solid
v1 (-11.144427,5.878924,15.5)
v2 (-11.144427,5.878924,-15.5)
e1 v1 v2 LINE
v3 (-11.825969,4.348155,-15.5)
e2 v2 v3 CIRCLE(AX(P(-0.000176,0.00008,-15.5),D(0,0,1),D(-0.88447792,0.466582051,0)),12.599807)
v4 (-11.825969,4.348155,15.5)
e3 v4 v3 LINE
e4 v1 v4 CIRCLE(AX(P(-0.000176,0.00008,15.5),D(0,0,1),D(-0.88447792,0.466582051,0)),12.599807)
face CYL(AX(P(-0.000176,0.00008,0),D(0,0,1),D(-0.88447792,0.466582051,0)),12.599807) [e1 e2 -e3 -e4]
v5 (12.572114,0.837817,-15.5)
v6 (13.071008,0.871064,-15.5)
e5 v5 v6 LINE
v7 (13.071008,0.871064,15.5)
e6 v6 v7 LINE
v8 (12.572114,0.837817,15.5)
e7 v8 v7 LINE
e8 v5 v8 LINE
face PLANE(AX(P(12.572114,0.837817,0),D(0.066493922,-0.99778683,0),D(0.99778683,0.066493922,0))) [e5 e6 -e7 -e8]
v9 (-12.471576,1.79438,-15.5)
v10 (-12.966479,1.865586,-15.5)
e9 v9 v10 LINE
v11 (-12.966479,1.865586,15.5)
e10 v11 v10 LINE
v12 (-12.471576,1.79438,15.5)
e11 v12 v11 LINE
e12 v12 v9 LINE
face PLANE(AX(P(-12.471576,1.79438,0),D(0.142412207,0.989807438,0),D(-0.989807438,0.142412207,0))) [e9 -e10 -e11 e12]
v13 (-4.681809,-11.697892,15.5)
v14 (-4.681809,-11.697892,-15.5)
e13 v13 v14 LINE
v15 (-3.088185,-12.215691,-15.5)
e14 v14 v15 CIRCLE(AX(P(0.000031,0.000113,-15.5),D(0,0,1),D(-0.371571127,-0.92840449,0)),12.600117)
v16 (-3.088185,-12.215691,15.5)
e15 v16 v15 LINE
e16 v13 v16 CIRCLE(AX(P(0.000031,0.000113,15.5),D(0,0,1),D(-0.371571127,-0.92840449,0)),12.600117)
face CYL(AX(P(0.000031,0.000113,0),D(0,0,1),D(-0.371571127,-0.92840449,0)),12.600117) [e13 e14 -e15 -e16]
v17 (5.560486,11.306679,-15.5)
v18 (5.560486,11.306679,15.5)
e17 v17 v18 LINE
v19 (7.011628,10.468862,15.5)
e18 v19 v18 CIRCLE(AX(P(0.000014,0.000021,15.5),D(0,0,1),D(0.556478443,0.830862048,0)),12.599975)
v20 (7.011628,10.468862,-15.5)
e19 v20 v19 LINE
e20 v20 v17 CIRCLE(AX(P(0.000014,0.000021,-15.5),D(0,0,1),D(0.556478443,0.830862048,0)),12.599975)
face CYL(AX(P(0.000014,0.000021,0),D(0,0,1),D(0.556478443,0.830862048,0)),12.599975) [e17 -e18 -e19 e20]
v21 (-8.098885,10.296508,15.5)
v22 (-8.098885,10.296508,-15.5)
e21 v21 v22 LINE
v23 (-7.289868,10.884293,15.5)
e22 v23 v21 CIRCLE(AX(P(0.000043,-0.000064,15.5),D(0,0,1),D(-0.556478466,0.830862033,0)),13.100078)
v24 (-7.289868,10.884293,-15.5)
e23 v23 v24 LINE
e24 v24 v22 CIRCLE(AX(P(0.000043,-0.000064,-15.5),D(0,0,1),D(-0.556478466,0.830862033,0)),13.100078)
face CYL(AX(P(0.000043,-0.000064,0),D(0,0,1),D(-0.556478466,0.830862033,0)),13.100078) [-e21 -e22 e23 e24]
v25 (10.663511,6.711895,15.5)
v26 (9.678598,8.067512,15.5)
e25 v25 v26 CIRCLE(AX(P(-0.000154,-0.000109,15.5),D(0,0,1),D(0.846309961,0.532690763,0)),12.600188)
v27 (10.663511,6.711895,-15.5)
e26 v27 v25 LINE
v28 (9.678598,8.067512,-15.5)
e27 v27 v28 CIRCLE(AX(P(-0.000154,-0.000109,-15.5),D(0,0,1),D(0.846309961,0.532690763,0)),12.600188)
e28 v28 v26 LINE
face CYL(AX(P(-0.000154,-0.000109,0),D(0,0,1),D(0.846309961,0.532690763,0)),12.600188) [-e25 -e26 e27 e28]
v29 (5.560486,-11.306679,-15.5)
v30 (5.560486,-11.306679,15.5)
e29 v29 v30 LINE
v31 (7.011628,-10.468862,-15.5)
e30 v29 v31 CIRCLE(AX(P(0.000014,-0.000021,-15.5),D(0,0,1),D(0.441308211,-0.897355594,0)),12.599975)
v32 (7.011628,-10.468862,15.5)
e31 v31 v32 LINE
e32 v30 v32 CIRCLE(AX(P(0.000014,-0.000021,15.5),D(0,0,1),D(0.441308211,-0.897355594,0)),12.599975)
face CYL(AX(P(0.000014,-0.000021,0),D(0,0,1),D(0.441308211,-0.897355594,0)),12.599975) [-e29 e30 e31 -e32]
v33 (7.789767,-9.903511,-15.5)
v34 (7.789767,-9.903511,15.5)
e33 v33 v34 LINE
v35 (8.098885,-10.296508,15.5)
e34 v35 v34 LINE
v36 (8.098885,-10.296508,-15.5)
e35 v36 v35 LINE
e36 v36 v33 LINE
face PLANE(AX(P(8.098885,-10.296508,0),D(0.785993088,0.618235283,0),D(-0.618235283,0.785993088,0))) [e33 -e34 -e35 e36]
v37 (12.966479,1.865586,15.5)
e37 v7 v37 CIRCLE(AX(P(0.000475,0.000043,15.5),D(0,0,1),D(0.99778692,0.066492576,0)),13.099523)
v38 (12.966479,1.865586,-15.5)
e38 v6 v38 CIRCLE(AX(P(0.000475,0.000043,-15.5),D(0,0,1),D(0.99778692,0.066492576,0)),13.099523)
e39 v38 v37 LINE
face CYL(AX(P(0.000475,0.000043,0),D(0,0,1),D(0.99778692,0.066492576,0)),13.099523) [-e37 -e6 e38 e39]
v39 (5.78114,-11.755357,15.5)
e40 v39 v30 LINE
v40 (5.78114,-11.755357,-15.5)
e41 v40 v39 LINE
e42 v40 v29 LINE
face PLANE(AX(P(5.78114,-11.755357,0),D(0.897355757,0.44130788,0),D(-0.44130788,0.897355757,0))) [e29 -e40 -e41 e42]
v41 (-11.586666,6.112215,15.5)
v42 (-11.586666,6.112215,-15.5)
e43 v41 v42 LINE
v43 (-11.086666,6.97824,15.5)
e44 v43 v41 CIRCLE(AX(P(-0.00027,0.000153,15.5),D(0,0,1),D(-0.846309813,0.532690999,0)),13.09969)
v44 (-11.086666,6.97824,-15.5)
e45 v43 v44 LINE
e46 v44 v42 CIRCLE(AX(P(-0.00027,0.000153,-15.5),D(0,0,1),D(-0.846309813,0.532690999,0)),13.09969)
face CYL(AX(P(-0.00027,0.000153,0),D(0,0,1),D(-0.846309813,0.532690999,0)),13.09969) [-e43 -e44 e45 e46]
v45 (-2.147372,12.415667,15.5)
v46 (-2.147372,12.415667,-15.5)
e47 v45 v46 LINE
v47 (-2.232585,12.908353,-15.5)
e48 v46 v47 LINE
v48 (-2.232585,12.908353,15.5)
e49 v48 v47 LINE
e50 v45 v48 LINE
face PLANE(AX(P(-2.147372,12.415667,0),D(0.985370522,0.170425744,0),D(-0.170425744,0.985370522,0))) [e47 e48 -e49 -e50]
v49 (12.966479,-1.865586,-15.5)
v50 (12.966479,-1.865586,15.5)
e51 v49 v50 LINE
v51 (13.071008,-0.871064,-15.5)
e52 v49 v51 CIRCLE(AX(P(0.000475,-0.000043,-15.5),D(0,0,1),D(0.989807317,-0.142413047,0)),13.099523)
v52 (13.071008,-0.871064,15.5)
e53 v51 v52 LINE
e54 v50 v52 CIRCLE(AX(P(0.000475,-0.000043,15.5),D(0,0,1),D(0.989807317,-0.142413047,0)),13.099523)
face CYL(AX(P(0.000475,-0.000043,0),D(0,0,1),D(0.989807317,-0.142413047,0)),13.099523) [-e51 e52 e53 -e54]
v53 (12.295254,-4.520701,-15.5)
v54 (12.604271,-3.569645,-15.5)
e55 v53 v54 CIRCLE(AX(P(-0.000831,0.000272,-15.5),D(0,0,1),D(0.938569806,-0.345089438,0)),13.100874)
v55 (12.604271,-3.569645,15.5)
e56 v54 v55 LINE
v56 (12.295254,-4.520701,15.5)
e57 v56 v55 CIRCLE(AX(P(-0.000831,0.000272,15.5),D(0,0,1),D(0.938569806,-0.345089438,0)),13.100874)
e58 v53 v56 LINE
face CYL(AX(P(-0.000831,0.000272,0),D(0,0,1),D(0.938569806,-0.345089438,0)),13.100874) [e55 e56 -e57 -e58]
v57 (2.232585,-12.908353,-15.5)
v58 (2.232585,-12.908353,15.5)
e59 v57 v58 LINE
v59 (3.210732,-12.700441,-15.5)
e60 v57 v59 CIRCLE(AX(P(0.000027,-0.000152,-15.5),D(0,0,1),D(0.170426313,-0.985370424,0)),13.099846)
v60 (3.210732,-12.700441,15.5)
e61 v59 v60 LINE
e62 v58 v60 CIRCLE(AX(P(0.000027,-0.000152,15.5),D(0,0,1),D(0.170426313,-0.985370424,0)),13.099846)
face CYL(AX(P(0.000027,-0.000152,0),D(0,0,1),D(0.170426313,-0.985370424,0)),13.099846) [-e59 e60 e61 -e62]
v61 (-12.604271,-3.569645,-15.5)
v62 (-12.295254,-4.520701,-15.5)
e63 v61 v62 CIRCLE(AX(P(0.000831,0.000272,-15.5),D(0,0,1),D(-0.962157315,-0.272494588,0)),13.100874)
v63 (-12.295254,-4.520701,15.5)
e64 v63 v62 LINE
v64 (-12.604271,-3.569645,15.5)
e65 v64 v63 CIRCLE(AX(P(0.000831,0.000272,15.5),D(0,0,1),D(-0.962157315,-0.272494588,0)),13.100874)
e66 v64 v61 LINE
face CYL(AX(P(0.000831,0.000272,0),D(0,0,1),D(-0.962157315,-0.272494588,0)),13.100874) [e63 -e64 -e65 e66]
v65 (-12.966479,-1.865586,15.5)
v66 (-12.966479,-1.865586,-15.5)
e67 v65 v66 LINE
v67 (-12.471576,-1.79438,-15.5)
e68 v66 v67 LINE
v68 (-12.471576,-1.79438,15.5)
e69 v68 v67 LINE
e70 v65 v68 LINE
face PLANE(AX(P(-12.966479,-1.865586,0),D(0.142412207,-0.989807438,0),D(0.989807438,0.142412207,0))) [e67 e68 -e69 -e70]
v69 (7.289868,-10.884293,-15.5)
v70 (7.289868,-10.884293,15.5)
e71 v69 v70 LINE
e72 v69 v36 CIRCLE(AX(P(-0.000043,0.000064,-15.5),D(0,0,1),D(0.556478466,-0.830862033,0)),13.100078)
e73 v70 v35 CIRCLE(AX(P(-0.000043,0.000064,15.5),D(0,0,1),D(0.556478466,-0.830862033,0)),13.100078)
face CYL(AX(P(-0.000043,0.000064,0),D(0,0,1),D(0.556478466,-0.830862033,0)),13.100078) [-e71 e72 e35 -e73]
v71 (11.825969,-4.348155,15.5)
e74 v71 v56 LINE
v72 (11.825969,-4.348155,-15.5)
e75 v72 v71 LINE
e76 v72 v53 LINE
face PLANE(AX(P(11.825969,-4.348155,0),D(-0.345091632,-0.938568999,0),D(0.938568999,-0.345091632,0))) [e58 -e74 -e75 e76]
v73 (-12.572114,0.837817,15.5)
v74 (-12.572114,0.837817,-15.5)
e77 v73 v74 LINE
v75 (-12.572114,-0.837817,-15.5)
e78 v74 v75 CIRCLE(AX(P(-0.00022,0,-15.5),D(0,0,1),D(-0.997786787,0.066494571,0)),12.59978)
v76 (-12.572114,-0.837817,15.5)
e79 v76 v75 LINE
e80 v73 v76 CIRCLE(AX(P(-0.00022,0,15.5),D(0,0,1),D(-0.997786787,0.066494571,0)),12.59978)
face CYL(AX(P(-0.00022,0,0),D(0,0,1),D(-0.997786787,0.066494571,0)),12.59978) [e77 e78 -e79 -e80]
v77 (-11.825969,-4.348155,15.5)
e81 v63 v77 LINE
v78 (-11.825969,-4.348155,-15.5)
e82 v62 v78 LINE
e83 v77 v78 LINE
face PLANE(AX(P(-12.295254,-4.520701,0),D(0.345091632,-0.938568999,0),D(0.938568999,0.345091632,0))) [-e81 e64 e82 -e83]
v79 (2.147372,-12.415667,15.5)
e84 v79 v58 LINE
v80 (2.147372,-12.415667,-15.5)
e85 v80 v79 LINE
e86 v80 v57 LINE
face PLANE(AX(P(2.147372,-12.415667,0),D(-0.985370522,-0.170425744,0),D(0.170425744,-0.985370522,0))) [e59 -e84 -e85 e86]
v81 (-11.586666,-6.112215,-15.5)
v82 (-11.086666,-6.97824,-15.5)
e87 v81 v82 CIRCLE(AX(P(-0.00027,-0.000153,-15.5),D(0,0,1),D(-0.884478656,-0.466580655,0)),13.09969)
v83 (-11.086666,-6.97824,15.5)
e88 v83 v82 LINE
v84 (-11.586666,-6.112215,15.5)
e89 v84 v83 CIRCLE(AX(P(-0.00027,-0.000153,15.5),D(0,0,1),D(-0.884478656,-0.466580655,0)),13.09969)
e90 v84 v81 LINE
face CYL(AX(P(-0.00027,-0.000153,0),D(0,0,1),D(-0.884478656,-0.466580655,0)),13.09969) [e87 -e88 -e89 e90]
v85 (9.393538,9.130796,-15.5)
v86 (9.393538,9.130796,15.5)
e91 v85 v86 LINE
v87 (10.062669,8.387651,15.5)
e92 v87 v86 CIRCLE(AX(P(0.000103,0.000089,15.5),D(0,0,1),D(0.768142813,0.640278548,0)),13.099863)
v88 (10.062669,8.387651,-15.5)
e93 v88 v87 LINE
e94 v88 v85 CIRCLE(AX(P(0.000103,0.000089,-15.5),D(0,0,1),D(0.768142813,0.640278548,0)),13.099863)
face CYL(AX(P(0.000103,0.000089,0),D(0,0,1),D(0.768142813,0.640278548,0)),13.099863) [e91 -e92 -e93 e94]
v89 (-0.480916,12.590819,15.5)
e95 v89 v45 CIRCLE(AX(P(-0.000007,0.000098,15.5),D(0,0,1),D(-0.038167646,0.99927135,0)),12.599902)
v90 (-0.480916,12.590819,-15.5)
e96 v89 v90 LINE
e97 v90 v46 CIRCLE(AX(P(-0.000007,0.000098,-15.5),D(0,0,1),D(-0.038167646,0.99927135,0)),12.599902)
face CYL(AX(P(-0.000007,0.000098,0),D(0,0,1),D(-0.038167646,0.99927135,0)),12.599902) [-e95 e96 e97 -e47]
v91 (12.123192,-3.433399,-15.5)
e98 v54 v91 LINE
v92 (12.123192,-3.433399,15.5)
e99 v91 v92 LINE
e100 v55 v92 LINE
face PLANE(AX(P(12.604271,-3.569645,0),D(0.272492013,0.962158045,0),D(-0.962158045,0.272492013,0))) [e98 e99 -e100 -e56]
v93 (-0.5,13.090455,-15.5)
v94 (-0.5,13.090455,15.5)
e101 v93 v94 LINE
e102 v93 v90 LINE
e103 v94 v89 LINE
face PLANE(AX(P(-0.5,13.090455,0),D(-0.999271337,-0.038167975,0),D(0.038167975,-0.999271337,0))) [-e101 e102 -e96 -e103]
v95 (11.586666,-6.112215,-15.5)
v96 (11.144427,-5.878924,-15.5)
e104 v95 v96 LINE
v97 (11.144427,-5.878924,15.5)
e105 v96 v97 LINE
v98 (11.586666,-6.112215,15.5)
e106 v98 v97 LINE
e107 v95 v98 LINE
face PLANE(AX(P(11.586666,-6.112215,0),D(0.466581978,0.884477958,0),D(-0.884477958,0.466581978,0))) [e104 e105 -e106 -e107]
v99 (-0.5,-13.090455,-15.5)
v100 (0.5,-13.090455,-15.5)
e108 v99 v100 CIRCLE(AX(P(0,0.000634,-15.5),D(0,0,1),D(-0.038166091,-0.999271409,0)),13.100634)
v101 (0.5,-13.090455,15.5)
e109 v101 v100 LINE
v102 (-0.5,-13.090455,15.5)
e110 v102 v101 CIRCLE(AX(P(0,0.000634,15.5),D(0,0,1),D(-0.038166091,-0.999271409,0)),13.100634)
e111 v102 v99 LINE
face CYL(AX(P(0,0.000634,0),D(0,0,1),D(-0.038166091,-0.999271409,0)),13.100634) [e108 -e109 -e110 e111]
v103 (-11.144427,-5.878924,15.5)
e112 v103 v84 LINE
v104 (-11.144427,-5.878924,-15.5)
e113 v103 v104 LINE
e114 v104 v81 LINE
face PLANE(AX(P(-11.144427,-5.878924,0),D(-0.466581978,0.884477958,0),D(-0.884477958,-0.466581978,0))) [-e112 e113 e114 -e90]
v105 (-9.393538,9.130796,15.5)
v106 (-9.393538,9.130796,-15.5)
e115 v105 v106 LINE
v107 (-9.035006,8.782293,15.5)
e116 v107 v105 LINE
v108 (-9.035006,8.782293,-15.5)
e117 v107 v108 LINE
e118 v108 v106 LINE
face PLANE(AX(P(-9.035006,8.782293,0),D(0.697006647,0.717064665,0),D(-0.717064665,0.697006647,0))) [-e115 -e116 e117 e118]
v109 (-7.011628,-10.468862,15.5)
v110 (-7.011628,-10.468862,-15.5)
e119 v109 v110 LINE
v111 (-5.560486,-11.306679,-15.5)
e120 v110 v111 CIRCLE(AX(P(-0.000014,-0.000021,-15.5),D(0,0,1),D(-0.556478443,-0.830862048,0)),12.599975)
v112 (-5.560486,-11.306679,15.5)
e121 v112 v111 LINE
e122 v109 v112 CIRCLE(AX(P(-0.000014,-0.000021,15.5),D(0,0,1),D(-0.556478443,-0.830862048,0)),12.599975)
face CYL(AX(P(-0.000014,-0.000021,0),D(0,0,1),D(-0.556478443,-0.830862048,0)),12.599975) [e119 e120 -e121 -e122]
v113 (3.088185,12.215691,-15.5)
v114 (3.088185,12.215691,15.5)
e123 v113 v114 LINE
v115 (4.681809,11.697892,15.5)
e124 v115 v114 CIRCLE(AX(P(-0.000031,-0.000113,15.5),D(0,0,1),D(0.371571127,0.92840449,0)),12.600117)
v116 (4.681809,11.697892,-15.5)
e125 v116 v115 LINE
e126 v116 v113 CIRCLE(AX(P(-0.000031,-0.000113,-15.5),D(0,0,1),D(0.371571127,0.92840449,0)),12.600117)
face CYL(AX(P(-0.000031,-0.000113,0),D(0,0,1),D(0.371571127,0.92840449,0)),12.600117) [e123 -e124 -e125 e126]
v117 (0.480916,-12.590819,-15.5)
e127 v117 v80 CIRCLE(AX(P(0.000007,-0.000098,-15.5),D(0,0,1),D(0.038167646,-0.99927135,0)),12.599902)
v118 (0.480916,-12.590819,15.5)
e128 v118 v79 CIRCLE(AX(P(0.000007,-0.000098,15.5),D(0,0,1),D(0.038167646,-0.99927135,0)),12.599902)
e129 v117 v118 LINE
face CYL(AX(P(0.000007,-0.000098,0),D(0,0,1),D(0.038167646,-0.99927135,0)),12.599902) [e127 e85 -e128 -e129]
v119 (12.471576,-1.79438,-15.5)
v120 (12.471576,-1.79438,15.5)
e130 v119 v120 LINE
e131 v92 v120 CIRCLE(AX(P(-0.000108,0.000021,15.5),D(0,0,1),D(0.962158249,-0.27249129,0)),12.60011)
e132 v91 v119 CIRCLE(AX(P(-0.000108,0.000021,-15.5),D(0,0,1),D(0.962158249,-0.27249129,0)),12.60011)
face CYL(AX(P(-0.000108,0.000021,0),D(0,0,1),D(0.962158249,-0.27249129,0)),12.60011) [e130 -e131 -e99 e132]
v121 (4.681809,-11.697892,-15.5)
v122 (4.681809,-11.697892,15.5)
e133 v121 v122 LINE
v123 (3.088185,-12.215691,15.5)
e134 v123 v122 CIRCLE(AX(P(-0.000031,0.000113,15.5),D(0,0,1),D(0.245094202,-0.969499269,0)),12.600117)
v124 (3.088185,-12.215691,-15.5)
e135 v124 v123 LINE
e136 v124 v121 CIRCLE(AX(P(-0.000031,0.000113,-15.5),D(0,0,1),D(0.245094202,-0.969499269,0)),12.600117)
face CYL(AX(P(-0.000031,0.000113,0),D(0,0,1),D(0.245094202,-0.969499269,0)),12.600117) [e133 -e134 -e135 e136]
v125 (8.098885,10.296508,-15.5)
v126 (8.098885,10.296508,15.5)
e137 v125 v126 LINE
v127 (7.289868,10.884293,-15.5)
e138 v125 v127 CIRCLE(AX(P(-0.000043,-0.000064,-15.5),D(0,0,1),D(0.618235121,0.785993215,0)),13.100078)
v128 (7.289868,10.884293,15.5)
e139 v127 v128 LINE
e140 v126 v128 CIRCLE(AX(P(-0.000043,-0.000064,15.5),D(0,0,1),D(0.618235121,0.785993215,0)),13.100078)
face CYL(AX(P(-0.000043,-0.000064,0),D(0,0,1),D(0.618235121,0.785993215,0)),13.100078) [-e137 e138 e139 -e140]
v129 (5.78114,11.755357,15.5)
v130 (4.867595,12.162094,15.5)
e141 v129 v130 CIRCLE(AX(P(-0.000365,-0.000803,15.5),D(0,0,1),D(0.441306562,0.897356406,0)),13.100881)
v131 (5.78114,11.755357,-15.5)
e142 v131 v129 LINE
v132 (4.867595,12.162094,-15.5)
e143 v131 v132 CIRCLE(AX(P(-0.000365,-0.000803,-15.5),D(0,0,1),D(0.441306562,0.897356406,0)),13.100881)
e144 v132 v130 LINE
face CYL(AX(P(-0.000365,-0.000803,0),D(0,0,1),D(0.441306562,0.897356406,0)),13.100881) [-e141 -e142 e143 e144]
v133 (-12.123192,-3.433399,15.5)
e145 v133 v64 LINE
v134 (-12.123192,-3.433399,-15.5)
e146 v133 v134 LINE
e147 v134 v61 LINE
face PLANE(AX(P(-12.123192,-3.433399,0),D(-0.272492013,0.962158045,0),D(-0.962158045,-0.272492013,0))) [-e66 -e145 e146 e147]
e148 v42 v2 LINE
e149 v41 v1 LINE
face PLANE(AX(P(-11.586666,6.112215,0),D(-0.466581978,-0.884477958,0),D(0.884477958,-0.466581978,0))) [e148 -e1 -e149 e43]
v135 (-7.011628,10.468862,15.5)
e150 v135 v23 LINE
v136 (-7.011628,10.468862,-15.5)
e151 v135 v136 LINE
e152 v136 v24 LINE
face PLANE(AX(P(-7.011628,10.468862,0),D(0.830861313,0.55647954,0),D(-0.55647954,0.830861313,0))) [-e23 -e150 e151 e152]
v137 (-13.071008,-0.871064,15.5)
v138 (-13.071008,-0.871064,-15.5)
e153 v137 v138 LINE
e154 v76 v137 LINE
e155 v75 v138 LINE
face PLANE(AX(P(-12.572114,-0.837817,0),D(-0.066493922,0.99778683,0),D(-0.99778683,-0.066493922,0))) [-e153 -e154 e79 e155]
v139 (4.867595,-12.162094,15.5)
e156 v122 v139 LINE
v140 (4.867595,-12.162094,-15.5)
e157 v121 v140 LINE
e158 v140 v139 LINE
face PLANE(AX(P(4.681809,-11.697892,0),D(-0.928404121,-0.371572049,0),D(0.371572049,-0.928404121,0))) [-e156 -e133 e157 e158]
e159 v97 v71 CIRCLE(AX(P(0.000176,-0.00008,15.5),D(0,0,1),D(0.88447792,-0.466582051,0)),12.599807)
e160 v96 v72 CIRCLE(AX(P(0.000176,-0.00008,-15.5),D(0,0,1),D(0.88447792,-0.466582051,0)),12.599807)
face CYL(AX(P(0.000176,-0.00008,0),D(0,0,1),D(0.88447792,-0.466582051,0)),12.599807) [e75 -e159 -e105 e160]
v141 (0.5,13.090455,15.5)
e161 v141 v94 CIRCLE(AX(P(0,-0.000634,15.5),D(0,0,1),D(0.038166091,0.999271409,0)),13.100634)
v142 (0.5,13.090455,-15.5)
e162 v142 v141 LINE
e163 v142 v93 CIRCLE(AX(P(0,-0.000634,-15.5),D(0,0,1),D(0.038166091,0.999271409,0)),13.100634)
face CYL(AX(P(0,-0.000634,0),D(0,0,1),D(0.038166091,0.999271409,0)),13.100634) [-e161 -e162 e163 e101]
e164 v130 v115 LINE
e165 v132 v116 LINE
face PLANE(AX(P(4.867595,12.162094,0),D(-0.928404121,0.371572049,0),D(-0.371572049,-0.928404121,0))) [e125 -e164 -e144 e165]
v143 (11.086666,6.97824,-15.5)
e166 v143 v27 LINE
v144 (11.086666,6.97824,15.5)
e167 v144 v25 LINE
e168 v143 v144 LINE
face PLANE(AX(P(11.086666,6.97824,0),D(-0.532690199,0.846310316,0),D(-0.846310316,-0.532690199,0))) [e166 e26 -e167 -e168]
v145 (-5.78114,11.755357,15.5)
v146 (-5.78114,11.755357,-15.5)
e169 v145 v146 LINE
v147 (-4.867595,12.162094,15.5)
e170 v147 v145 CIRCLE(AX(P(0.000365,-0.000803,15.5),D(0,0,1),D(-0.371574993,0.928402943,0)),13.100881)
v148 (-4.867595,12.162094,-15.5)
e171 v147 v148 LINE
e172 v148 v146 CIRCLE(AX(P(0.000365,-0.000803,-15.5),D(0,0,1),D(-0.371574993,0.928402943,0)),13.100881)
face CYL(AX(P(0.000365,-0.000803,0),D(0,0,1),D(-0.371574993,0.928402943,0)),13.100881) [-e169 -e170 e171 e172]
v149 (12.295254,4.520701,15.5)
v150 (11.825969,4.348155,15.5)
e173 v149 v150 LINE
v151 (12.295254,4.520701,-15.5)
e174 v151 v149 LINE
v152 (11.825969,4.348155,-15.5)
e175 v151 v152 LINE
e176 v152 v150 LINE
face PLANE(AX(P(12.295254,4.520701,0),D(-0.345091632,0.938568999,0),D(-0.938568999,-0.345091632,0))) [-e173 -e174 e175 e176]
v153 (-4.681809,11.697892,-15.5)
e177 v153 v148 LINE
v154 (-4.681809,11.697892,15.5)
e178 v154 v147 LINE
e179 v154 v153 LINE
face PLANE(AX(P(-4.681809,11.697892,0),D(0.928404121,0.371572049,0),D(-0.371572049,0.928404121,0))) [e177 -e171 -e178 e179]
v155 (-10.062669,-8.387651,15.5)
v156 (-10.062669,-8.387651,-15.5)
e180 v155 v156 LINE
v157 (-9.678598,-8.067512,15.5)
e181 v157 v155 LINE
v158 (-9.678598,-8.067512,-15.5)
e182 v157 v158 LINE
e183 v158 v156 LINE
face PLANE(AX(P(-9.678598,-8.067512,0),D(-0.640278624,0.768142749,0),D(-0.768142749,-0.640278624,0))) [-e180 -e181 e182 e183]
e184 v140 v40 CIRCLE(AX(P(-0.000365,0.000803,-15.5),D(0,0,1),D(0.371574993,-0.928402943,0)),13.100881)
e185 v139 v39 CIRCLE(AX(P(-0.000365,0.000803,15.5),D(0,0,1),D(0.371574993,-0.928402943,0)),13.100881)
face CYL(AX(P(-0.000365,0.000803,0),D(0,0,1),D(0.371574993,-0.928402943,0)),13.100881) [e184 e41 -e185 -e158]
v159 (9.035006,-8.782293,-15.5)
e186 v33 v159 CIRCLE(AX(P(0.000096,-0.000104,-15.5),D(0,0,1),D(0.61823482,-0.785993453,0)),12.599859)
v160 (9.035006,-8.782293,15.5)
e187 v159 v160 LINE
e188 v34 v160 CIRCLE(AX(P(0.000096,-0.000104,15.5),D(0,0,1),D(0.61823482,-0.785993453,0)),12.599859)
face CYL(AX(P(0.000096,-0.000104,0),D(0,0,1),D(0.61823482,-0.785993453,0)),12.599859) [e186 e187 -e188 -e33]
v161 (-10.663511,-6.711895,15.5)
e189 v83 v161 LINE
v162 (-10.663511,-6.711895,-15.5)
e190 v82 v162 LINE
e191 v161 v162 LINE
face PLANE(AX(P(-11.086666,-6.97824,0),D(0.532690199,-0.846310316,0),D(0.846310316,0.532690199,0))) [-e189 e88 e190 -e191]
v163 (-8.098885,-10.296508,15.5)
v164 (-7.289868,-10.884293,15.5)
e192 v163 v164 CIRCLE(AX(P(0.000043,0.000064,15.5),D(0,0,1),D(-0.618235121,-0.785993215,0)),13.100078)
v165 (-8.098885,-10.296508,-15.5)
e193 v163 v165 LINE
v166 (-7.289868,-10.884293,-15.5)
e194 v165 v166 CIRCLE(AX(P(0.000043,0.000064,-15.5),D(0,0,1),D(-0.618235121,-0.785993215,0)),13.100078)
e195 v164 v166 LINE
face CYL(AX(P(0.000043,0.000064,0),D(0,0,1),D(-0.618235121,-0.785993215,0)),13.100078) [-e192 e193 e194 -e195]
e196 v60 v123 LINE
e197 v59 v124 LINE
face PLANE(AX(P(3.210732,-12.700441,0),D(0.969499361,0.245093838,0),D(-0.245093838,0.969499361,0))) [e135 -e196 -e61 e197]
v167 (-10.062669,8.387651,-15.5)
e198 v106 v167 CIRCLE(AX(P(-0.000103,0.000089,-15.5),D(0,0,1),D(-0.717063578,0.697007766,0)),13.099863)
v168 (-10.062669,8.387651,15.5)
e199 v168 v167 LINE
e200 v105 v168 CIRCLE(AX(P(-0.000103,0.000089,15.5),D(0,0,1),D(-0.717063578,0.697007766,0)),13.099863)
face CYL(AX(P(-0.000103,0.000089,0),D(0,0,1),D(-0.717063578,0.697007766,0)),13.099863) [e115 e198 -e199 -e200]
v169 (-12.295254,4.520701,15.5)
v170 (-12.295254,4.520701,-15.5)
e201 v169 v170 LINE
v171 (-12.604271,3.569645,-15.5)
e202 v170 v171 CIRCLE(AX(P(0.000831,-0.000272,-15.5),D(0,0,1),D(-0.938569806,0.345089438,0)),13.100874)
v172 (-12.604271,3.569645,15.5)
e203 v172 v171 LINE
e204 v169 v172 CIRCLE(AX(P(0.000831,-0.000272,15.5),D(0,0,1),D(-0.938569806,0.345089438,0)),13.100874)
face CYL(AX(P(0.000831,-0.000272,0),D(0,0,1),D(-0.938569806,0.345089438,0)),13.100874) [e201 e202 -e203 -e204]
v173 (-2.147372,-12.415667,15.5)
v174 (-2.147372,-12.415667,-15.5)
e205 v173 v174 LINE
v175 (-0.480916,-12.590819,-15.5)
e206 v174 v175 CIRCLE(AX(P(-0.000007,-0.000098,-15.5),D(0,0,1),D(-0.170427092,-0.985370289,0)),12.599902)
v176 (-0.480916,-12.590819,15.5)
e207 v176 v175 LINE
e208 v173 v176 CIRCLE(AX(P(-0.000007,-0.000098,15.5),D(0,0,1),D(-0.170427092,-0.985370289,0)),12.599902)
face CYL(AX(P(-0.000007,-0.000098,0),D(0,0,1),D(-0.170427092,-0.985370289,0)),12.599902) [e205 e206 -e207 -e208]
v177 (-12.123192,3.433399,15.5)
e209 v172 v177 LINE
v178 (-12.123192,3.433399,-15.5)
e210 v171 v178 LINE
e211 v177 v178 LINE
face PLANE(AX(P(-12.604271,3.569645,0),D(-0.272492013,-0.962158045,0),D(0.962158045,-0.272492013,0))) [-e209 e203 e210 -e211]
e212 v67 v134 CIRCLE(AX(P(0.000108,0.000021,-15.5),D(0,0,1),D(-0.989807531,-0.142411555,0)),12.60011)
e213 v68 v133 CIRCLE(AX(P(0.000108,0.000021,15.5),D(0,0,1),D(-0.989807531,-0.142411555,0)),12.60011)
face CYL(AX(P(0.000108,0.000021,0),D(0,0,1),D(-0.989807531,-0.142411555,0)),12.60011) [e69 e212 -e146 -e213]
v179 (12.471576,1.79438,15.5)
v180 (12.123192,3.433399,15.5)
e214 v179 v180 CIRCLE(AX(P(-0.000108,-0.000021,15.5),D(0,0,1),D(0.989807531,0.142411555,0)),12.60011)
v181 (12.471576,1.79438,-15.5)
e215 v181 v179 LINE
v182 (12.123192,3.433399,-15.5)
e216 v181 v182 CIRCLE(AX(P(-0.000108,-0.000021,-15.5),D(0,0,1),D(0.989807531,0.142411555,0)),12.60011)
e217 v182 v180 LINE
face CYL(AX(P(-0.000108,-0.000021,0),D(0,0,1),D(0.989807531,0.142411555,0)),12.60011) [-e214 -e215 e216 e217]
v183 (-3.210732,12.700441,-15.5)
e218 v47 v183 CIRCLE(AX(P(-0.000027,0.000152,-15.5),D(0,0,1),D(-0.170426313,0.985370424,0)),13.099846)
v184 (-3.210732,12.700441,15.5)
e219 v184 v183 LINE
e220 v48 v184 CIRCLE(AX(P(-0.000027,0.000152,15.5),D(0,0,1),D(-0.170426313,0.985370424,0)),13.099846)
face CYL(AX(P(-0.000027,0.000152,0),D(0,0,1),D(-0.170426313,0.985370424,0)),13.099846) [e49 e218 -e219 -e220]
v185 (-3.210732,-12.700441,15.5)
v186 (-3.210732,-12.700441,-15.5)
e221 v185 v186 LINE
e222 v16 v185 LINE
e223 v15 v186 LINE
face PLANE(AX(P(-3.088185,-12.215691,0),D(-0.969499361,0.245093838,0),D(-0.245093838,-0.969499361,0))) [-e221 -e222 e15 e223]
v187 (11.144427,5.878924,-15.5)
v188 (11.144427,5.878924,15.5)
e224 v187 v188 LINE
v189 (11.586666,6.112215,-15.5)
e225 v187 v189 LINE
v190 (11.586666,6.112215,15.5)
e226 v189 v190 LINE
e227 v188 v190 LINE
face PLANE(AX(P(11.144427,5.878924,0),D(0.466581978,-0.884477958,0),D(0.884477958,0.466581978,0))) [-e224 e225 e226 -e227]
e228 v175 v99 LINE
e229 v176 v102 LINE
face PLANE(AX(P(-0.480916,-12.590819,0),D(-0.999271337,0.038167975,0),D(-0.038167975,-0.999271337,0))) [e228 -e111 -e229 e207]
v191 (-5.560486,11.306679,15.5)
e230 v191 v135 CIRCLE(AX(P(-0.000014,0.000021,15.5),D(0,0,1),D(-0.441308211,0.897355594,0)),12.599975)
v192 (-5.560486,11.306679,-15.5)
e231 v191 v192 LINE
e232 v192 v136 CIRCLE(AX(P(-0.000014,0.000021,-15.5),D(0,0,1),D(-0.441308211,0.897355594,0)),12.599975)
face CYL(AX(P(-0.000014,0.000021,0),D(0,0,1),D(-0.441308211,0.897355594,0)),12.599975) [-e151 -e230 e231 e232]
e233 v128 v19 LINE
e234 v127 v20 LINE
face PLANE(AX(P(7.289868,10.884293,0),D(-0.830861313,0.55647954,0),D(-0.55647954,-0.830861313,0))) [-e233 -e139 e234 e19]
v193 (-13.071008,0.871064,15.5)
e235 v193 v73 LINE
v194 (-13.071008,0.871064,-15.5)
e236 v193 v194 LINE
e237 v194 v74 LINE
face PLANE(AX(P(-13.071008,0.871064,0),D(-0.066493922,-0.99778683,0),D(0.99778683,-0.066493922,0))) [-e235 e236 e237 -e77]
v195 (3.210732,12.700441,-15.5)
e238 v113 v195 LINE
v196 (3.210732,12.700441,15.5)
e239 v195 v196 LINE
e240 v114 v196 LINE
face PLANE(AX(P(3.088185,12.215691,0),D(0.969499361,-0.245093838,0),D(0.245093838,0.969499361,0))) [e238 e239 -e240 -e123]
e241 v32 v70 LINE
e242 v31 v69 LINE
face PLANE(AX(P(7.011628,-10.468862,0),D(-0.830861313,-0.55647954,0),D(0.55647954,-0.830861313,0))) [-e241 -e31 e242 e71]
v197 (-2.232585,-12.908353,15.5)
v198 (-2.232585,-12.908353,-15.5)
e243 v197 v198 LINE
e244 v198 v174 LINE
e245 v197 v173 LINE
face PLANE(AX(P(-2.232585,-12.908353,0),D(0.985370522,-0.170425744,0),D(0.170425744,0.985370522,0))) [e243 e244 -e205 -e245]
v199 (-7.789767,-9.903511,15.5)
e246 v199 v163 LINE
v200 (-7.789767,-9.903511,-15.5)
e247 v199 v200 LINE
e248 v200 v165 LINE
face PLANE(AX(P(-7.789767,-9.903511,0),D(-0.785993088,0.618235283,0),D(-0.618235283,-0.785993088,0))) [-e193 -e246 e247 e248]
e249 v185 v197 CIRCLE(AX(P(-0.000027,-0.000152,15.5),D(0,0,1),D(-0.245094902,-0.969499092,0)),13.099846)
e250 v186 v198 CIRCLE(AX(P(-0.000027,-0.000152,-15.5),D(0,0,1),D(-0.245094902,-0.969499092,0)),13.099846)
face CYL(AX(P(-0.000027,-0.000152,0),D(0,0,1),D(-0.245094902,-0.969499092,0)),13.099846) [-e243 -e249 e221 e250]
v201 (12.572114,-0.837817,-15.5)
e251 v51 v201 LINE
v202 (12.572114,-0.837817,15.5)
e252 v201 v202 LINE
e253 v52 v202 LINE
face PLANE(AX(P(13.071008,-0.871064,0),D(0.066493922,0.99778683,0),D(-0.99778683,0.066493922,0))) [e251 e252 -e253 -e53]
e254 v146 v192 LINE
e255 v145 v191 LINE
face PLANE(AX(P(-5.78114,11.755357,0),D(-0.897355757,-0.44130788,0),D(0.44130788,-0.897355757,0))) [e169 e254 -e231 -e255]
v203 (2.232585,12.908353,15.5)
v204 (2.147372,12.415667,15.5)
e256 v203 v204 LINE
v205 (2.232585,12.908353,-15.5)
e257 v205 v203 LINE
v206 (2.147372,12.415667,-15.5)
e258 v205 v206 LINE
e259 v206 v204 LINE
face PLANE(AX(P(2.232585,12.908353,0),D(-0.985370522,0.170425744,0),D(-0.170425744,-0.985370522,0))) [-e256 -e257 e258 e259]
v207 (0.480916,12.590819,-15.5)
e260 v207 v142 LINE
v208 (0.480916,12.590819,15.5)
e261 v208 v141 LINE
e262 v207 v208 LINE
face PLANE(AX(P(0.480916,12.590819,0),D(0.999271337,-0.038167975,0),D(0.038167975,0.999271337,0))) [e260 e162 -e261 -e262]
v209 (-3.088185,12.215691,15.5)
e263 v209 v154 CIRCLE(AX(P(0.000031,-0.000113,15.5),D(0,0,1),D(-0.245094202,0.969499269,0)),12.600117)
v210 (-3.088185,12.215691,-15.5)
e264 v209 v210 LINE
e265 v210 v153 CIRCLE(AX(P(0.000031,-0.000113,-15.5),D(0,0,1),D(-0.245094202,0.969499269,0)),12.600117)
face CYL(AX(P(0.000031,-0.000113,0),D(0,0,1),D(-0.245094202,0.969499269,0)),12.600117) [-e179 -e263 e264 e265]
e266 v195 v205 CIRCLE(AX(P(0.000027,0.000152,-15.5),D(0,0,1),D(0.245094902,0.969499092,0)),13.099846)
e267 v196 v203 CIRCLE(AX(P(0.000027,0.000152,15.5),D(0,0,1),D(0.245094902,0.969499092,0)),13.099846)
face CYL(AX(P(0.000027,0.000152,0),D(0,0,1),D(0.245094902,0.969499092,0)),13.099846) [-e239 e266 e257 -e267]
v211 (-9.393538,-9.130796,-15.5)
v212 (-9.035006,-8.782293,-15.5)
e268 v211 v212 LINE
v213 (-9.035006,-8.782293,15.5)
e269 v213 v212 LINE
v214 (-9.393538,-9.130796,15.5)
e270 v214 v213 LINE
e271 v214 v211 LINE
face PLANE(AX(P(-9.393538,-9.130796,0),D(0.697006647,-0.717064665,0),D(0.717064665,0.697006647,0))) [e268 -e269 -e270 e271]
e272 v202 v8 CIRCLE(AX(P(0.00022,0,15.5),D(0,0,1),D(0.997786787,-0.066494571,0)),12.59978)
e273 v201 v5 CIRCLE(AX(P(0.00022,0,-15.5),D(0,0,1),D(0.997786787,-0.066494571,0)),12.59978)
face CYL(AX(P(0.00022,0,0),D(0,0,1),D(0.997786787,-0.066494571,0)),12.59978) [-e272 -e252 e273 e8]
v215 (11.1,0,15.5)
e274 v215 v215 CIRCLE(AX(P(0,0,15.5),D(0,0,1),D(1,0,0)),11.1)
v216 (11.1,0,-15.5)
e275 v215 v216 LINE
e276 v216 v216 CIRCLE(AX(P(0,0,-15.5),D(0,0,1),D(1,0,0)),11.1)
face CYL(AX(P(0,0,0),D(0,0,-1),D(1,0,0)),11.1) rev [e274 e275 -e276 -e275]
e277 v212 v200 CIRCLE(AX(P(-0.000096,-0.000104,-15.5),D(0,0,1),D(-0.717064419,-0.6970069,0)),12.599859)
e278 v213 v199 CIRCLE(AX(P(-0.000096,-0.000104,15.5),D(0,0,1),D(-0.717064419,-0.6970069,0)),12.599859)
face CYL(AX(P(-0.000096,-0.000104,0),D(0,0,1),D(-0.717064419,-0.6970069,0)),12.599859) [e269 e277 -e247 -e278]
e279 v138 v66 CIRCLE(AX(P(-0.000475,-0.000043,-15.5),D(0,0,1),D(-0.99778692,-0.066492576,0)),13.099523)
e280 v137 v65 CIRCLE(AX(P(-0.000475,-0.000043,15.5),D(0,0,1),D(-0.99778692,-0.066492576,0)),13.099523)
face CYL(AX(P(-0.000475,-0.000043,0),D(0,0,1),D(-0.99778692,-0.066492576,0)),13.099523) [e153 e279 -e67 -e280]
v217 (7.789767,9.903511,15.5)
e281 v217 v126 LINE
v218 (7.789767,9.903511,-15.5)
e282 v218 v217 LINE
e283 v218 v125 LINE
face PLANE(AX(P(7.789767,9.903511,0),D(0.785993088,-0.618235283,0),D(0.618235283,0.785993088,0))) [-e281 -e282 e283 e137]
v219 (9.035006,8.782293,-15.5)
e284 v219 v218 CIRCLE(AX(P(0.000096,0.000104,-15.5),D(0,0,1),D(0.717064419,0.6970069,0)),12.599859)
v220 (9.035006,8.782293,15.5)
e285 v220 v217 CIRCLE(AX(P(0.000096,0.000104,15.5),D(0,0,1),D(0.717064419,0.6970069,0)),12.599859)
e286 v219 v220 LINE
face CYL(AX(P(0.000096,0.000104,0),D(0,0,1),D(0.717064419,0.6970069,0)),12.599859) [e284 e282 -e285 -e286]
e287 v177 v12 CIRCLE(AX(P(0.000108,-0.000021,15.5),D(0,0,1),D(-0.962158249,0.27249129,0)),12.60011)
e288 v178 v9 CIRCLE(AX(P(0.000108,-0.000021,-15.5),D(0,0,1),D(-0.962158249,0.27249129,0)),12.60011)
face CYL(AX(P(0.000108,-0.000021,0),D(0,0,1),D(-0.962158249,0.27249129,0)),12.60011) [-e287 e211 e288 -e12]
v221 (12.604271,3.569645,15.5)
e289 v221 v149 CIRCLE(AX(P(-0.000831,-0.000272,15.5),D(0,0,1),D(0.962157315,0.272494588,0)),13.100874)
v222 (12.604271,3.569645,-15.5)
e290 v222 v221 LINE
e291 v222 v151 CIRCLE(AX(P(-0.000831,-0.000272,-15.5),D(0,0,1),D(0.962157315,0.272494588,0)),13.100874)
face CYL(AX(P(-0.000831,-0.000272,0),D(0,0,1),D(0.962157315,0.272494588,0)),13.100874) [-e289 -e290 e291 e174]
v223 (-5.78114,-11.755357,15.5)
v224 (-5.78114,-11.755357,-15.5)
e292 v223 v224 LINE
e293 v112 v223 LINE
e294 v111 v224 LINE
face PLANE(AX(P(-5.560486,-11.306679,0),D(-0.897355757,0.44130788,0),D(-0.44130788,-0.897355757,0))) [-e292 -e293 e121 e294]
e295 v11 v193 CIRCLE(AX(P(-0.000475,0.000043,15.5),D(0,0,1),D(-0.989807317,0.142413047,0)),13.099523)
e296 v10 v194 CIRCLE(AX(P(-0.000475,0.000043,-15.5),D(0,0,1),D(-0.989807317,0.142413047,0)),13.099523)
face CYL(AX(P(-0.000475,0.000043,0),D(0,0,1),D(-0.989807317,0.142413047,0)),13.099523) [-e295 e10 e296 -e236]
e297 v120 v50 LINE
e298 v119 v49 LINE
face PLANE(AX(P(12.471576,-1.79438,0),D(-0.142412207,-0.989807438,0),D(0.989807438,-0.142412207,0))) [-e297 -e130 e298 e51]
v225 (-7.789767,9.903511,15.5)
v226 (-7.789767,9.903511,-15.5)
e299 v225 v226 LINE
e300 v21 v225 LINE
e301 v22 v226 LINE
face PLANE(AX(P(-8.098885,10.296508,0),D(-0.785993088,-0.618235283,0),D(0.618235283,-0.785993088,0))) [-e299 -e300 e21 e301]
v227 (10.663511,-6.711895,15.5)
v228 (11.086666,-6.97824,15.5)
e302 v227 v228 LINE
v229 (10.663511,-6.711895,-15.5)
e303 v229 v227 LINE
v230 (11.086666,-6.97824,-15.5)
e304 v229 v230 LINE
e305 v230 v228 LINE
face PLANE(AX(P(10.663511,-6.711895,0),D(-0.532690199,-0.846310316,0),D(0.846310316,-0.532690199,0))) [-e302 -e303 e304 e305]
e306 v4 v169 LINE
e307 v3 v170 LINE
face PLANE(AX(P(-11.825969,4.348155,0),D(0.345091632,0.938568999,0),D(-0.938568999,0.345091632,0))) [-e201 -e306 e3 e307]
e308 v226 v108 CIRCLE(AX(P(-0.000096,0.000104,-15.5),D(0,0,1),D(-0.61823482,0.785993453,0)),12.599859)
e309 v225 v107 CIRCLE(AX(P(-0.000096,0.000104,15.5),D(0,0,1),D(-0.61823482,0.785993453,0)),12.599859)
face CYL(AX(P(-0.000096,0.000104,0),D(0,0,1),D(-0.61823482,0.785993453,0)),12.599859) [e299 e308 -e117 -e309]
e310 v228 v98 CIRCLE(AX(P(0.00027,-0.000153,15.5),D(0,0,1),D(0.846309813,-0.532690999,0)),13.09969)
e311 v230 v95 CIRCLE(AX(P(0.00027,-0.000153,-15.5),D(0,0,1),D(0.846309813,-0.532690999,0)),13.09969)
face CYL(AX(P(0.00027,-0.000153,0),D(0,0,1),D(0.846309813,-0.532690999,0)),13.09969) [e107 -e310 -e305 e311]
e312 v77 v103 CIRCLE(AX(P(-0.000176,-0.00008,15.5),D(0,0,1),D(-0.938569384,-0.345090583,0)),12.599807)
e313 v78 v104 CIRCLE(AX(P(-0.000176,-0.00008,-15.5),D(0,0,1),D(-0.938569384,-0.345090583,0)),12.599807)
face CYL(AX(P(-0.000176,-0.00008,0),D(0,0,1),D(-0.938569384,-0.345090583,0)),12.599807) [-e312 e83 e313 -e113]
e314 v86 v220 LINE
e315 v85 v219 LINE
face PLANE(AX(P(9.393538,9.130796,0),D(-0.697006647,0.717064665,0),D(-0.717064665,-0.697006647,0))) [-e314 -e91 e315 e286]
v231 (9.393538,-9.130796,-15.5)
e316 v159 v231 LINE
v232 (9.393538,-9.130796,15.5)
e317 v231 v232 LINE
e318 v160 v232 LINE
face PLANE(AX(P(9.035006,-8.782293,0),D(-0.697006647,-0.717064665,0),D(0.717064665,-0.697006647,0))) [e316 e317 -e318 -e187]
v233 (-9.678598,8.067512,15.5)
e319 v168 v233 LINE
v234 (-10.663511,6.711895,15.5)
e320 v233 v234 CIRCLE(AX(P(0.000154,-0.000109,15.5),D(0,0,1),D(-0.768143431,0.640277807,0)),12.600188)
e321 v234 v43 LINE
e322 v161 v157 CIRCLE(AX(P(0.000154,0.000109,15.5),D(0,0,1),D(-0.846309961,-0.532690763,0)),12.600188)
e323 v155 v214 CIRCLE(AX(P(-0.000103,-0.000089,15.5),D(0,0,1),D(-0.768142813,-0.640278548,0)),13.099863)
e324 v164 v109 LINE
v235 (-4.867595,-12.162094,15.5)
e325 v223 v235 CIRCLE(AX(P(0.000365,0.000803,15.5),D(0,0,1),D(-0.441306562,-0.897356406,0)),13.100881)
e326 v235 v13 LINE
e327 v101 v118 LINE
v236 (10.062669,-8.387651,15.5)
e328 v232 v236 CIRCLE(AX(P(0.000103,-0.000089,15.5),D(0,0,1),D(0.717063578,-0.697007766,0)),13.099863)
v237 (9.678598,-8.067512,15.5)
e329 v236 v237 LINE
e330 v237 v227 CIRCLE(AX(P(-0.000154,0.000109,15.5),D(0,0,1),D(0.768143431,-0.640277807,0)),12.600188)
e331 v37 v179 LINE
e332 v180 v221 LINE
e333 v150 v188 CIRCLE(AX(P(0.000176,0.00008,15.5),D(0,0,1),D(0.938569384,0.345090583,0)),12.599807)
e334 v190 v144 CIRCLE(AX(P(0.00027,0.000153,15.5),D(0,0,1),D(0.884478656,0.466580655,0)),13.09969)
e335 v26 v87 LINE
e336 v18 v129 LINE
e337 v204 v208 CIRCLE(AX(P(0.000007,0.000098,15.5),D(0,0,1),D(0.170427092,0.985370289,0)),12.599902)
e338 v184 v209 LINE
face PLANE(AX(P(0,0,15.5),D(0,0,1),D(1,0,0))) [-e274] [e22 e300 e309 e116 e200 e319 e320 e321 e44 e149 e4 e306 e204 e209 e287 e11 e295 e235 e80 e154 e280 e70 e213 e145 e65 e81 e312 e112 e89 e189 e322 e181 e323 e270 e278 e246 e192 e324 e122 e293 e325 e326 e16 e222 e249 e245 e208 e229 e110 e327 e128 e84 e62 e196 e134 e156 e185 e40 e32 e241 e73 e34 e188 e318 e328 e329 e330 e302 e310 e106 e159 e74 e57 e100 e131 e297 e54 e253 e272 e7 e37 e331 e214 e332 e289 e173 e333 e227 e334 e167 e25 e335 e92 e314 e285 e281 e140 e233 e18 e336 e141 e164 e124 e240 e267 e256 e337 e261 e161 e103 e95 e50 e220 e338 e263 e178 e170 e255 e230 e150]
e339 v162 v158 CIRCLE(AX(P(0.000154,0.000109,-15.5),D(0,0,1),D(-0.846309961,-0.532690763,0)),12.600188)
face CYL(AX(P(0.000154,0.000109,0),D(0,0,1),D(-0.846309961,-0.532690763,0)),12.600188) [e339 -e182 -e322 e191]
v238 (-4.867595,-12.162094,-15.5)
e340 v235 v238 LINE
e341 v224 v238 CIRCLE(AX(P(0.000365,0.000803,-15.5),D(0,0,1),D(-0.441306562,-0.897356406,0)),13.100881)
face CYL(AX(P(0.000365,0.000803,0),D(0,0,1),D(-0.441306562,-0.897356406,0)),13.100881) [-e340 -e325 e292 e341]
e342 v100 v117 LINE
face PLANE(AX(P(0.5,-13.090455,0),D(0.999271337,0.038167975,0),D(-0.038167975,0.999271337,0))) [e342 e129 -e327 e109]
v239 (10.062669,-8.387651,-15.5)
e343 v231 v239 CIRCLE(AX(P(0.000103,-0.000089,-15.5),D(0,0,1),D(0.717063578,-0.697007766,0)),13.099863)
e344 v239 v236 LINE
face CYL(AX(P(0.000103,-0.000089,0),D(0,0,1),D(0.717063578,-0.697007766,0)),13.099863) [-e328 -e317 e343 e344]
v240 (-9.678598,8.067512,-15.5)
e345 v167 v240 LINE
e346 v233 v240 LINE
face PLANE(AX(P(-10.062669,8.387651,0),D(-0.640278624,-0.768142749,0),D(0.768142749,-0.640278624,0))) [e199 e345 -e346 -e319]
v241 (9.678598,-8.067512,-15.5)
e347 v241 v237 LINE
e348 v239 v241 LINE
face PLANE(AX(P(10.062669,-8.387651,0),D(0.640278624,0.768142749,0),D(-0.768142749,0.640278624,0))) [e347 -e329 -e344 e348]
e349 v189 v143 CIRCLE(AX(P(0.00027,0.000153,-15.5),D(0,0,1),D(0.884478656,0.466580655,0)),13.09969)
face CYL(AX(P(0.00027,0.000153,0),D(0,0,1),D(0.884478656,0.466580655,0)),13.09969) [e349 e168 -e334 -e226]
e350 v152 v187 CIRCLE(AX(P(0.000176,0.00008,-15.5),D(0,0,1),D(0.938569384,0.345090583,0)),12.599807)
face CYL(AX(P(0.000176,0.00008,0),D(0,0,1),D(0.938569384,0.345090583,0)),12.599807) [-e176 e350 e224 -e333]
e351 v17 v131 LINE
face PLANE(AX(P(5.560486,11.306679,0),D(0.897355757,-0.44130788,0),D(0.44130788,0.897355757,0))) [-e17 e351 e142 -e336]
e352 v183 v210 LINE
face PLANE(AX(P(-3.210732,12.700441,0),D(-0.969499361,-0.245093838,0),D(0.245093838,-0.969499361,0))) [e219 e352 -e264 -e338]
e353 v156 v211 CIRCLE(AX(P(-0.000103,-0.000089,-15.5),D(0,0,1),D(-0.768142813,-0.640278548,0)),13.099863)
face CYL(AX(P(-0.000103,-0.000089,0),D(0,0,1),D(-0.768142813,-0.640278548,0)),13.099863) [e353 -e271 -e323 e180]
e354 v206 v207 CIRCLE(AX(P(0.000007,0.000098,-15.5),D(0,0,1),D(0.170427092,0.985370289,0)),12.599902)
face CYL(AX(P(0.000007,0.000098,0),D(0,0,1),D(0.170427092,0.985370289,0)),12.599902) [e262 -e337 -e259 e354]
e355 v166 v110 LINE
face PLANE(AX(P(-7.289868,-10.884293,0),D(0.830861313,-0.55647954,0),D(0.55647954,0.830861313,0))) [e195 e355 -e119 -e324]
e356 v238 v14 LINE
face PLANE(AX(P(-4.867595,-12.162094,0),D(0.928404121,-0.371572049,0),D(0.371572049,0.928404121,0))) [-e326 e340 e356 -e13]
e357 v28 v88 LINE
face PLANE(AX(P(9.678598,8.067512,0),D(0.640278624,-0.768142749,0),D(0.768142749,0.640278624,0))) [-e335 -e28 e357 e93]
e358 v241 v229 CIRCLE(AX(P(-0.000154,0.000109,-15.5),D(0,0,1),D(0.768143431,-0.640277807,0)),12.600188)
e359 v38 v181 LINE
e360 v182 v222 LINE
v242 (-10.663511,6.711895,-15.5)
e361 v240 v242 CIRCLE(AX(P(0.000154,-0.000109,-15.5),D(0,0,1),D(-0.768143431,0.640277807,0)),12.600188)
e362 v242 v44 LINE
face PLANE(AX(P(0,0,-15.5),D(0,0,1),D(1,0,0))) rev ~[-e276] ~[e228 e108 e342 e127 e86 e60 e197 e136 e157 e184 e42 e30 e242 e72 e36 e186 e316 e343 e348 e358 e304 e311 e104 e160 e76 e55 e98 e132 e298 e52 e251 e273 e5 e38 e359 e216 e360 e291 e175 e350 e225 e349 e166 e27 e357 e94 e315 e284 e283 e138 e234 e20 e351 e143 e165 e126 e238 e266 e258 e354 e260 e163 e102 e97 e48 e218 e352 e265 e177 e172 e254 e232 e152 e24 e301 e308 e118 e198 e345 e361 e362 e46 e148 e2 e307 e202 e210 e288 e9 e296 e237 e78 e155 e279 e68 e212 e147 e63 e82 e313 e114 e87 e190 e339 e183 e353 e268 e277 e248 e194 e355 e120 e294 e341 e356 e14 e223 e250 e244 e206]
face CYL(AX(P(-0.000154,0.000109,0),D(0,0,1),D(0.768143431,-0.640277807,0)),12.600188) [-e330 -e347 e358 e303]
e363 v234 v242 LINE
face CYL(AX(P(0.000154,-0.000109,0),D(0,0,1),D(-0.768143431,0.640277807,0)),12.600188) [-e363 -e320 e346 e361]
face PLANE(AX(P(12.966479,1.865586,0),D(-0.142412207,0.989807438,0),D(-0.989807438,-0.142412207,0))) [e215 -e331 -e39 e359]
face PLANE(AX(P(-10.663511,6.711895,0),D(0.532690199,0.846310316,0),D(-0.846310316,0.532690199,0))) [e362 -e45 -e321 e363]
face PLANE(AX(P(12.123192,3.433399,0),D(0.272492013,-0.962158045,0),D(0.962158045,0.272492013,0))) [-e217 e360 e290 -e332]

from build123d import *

# Parameters (mm, degrees)
F0_R     = 12.5
F1_DEPTH = 15.5
F0_R_2   = 11.1
F2_DEPTH = 15.5


with BuildPart() as f1:
    # F0 (on Top) → F1 (new body, symmetric)
    with BuildSketch(Plane.XY):
        with BuildLine():
            Line((0.5, -13.090455), (0.480916, -12.590819))
            ThreePointArc((0.480916, -12.590819), (1.317059, -12.530976), (2.147372, -12.415667))
            Line((2.147372, -12.415667), (2.232585, -12.908353))
            ThreePointArc((2.232585, -12.908353), (2.723643, -12.813734), (3.210732, -12.700441))
            Line((3.210732, -12.700441), (3.088185, -12.215691))
            ThreePointArc((3.088185, -12.215691), (3.893614, -11.983312), (4.681809, -11.697892))
            Line((4.681809, -11.697892), (4.867595, -12.162094))
            ThreePointArc((4.867595, -12.162094), (5.32825, -11.967445), (5.78114, -11.755357))
            Line((5.78114, -11.755357), (5.560486, -11.306679))
            ThreePointArc((5.560486, -11.306679), (6.3, -10.91192), (7.011628, -10.468862))
            Line((7.011628, -10.468862), (7.289868, -10.884293))
            ThreePointArc((7.289868, -10.884293), (7.699987, -10.598123), (8.098885, -10.296508))
            Line((8.098885, -10.296508), (7.789767, -9.903511))
            ThreePointArc((7.789767, -9.903511), (8.431046, -9.363625), (9.035006, -8.782293))
            Line((9.035006, -8.782293), (9.393538, -9.130796))
            ThreePointArc((9.393538, -9.130796), (9.735197, -8.765611), (10.062669, -8.387651))
            Line((10.062669, -8.387651), (9.678598, -8.067512))
            ThreePointArc((9.678598, -8.067512), (10.193614, -7.406094), (10.663511, -6.711895))
            Line((10.663511, -6.711895), (11.086666, -6.97824))
            ThreePointArc((11.086666, -6.97824), (11.344933, -6.55), (11.586666, -6.112215))
            Line((11.586666, -6.112215), (11.144427, -5.878924))
            ThreePointArc((11.144427, -5.878924), (11.510673, -5.124882), (11.825969, -4.348155))
            Line((11.825969, -4.348155), (12.295254, -4.520701))
            ThreePointArc((12.295254, -4.520701), (12.45884, -4.048123), (12.604271, -3.569645))
            Line((12.604271, -3.569645), (12.123192, -3.433399))
            ThreePointArc((12.123192, -3.433399), (12.32466, -2.619687), (12.471576, -1.79438))
            Line((12.471576, -1.79438), (12.966479, -1.865586))
            ThreePointArc((12.966479, -1.865586), (13.028237, -1.369323), (13.071008, -0.871064))
            Line((13.071008, -0.871064), (12.572114, -0.837817))
            ThreePointArc((12.572114, -0.837817), (12.6, 0), (12.572114, 0.837817))
            Line((12.572114, 0.837817), (13.071008, 0.871064))
            ThreePointArc((13.071008, 0.871064), (13.028237, 1.369323), (12.966479, 1.865586))
            Line((12.966479, 1.865586), (12.471576, 1.79438))
            ThreePointArc((12.471576, 1.79438), (12.32466, 2.619687), (12.123192, 3.433399))
            Line((12.123192, 3.433399), (12.604271, 3.569645))
            ThreePointArc((12.604271, 3.569645), (12.45884, 4.048123), (12.295254, 4.520701))
            Line((12.295254, 4.520701), (11.825969, 4.348155))
            ThreePointArc((11.825969, 4.348155), (11.510673, 5.124882), (11.144427, 5.878924))
            Line((11.144427, 5.878924), (11.586666, 6.112215))
            ThreePointArc((11.586666, 6.112215), (11.344933, 6.55), (11.086666, 6.97824))
            Line((11.086666, 6.97824), (10.663511, 6.711895))
            ThreePointArc((10.663511, 6.711895), (10.193614, 7.406094), (9.678598, 8.067512))
            Line((9.678598, 8.067512), (10.062669, 8.387651))
            ThreePointArc((10.062669, 8.387651), (9.735197, 8.765611), (9.393538, 9.130796))
            Line((9.393538, 9.130796), (9.035006, 8.782293))
            ThreePointArc((9.035006, 8.782293), (8.431046, 9.363625), (7.789767, 9.903511))
            Line((7.789767, 9.903511), (8.098885, 10.296508))
            ThreePointArc((8.098885, 10.296508), (7.699987, 10.598123), (7.289868, 10.884293))
            Line((7.289868, 10.884293), (7.011628, 10.468862))
            ThreePointArc((7.011628, 10.468862), (6.3, 10.91192), (5.560486, 11.306679))
            Line((5.560486, 11.306679), (5.78114, 11.755357))
            ThreePointArc((5.78114, 11.755357), (5.32825, 11.967445), (4.867595, 12.162094))
            Line((4.867595, 12.162094), (4.681809, 11.697892))
            ThreePointArc((4.681809, 11.697892), (3.893614, 11.983312), (3.088185, 12.215691))
            Line((3.088185, 12.215691), (3.210732, 12.700441))
            ThreePointArc((3.210732, 12.700441), (2.723643, 12.813734), (2.232585, 12.908353))
            Line((2.232585, 12.908353), (2.147372, 12.415667))
            ThreePointArc((2.147372, 12.415667), (1.317059, 12.530976), (0.480916, 12.590819))
            Line((0.480916, 12.590819), (0.5, 13.090455))
            ThreePointArc((0.5, 13.090455), (0, 13.1), (-0.5, 13.090455))
            Line((-0.5, 13.090455), (-0.480916, 12.590819))
            ThreePointArc((-0.480916, 12.590819), (-1.317059, 12.530976), (-2.147372, 12.415667))
            Line((-2.147372, 12.415667), (-2.232585, 12.908353))
            ThreePointArc((-2.232585, 12.908353), (-2.723643, 12.813734), (-3.210732, 12.700441))
            Line((-3.210732, 12.700441), (-3.088185, 12.215691))
            ThreePointArc((-3.088185, 12.215691), (-3.893614, 11.983312), (-4.681809, 11.697892))
            Line((-4.681809, 11.697892), (-4.867595, 12.162094))
            ThreePointArc((-4.867595, 12.162094), (-5.32825, 11.967445), (-5.78114, 11.755357))
            Line((-5.78114, 11.755357), (-5.560486, 11.306679))
            ThreePointArc((-5.560486, 11.306679), (-6.3, 10.91192), (-7.011628, 10.468862))
            Line((-7.011628, 10.468862), (-7.289868, 10.884293))
            ThreePointArc((-7.289868, 10.884293), (-7.699987, 10.598123), (-8.098885, 10.296508))
            Line((-8.098885, 10.296508), (-7.789767, 9.903511))
            ThreePointArc((-7.789767, 9.903511), (-8.431046, 9.363625), (-9.035006, 8.782293))
            Line((-9.035006, 8.782293), (-9.393538, 9.130796))
            ThreePointArc((-9.393538, 9.130796), (-9.735197, 8.765611), (-10.062669, 8.387651))
            Line((-10.062669, 8.387651), (-9.678598, 8.067512))
            ThreePointArc((-9.678598, 8.067512), (-10.193614, 7.406094), (-10.663511, 6.711895))
            Line((-10.663511, 6.711895), (-11.086666, 6.97824))
            ThreePointArc((-11.086666, 6.97824), (-11.344933, 6.55), (-11.586666, 6.112215))
            Line((-11.586666, 6.112215), (-11.144427, 5.878924))
            ThreePointArc((-11.144427, 5.878924), (-11.510673, 5.124882), (-11.825969, 4.348155))
            Line((-11.825969, 4.348155), (-12.295254, 4.520701))
            ThreePointArc((-12.295254, 4.520701), (-12.45884, 4.048123), (-12.604271, 3.569645))
            Line((-12.604271, 3.569645), (-12.123192, 3.433399))
            ThreePointArc((-12.123192, 3.433399), (-12.32466, 2.619687), (-12.471576, 1.79438))
            Line((-12.471576, 1.79438), (-12.966479, 1.865586))
            ThreePointArc((-12.966479, 1.865586), (-13.028237, 1.369323), (-13.071008, 0.871064))
            Line((-13.071008, 0.871064), (-12.572114, 0.837817))
            ThreePointArc((-12.572114, 0.837817), (-12.6, 0), (-12.572114, -0.837817))
            Line((-12.572114, -0.837817), (-13.071008, -0.871064))
            ThreePointArc((-13.071008, -0.871064), (-13.028237, -1.369323), (-12.966479, -1.865586))
            Line((-12.966479, -1.865586), (-12.471576, -1.79438))
            ThreePointArc((-12.471576, -1.79438), (-12.32466, -2.619687), (-12.123192, -3.433399))
            Line((-12.123192, -3.433399), (-12.604271, -3.569645))
            ThreePointArc((-12.604271, -3.569645), (-12.45884, -4.048123), (-12.295254, -4.520701))
            Line((-12.295254, -4.520701), (-11.825969, -4.348155))
            ThreePointArc((-11.825969, -4.348155), (-11.510673, -5.124882), (-11.144427, -5.878924))
            Line((-11.144427, -5.878924), (-11.586666, -6.112215))
            ThreePointArc((-11.586666, -6.112215), (-11.344933, -6.55), (-11.086666, -6.97824))
            Line((-11.086666, -6.97824), (-10.663511, -6.711895))
            ThreePointArc((-10.663511, -6.711895), (-10.193614, -7.406094), (-9.678598, -8.067512))
            Line((-9.678598, -8.067512), (-10.062669, -8.387651))
            ThreePointArc((-10.062669, -8.387651), (-9.735197, -8.765611), (-9.393538, -9.130796))
            Line((-9.393538, -9.130796), (-9.035006, -8.782293))
            ThreePointArc((-9.035006, -8.782293), (-8.431046, -9.363625), (-7.789767, -9.903511))
            Line((-7.789767, -9.903511), (-8.098885, -10.296508))
            ThreePointArc((-8.098885, -10.296508), (-7.699987, -10.598123), (-7.289868, -10.884293))
            Line((-7.289868, -10.884293), (-7.011628, -10.468862))
            ThreePointArc((-7.011628, -10.468862), (-6.3, -10.91192), (-5.560486, -11.306679))
            Line((-5.560486, -11.306679), (-5.78114, -11.755357))
            ThreePointArc((-5.78114, -11.755357), (-5.32825, -11.967445), (-4.867595, -12.162094))
            Line((-4.867595, -12.162094), (-4.681809, -11.697892))
            ThreePointArc((-4.681809, -11.697892), (-3.893614, -11.983312), (-3.088185, -12.215691))
            Line((-3.088185, -12.215691), (-3.210732, -12.700441))
            ThreePointArc((-3.210732, -12.700441), (-2.723643, -12.813734), (-2.232585, -12.908353))
            Line((-2.232585, -12.908353), (-2.147372, -12.415667))
            ThreePointArc((-2.147372, -12.415667), (-1.317059, -12.530976), (-0.480916, -12.590819))
            Line((-0.480916, -12.590819), (-0.5, -13.090455))
            ThreePointArc((-0.5, -13.090455), (0, -13.1), (0.5, -13.090455))
        make_face()
        Circle(F0_R, mode=Mode.SUBTRACT)
    extrude(amount=F1_DEPTH, both=True)

    # F0 (on Top) → F2 (join, symmetric)
    with BuildSketch(Plane.XY):
        Circle(F0_R)
        Circle(F0_R_2, mode=Mode.SUBTRACT)
    extrude(amount=F2_DEPTH, both=True)


solid = f1.part
